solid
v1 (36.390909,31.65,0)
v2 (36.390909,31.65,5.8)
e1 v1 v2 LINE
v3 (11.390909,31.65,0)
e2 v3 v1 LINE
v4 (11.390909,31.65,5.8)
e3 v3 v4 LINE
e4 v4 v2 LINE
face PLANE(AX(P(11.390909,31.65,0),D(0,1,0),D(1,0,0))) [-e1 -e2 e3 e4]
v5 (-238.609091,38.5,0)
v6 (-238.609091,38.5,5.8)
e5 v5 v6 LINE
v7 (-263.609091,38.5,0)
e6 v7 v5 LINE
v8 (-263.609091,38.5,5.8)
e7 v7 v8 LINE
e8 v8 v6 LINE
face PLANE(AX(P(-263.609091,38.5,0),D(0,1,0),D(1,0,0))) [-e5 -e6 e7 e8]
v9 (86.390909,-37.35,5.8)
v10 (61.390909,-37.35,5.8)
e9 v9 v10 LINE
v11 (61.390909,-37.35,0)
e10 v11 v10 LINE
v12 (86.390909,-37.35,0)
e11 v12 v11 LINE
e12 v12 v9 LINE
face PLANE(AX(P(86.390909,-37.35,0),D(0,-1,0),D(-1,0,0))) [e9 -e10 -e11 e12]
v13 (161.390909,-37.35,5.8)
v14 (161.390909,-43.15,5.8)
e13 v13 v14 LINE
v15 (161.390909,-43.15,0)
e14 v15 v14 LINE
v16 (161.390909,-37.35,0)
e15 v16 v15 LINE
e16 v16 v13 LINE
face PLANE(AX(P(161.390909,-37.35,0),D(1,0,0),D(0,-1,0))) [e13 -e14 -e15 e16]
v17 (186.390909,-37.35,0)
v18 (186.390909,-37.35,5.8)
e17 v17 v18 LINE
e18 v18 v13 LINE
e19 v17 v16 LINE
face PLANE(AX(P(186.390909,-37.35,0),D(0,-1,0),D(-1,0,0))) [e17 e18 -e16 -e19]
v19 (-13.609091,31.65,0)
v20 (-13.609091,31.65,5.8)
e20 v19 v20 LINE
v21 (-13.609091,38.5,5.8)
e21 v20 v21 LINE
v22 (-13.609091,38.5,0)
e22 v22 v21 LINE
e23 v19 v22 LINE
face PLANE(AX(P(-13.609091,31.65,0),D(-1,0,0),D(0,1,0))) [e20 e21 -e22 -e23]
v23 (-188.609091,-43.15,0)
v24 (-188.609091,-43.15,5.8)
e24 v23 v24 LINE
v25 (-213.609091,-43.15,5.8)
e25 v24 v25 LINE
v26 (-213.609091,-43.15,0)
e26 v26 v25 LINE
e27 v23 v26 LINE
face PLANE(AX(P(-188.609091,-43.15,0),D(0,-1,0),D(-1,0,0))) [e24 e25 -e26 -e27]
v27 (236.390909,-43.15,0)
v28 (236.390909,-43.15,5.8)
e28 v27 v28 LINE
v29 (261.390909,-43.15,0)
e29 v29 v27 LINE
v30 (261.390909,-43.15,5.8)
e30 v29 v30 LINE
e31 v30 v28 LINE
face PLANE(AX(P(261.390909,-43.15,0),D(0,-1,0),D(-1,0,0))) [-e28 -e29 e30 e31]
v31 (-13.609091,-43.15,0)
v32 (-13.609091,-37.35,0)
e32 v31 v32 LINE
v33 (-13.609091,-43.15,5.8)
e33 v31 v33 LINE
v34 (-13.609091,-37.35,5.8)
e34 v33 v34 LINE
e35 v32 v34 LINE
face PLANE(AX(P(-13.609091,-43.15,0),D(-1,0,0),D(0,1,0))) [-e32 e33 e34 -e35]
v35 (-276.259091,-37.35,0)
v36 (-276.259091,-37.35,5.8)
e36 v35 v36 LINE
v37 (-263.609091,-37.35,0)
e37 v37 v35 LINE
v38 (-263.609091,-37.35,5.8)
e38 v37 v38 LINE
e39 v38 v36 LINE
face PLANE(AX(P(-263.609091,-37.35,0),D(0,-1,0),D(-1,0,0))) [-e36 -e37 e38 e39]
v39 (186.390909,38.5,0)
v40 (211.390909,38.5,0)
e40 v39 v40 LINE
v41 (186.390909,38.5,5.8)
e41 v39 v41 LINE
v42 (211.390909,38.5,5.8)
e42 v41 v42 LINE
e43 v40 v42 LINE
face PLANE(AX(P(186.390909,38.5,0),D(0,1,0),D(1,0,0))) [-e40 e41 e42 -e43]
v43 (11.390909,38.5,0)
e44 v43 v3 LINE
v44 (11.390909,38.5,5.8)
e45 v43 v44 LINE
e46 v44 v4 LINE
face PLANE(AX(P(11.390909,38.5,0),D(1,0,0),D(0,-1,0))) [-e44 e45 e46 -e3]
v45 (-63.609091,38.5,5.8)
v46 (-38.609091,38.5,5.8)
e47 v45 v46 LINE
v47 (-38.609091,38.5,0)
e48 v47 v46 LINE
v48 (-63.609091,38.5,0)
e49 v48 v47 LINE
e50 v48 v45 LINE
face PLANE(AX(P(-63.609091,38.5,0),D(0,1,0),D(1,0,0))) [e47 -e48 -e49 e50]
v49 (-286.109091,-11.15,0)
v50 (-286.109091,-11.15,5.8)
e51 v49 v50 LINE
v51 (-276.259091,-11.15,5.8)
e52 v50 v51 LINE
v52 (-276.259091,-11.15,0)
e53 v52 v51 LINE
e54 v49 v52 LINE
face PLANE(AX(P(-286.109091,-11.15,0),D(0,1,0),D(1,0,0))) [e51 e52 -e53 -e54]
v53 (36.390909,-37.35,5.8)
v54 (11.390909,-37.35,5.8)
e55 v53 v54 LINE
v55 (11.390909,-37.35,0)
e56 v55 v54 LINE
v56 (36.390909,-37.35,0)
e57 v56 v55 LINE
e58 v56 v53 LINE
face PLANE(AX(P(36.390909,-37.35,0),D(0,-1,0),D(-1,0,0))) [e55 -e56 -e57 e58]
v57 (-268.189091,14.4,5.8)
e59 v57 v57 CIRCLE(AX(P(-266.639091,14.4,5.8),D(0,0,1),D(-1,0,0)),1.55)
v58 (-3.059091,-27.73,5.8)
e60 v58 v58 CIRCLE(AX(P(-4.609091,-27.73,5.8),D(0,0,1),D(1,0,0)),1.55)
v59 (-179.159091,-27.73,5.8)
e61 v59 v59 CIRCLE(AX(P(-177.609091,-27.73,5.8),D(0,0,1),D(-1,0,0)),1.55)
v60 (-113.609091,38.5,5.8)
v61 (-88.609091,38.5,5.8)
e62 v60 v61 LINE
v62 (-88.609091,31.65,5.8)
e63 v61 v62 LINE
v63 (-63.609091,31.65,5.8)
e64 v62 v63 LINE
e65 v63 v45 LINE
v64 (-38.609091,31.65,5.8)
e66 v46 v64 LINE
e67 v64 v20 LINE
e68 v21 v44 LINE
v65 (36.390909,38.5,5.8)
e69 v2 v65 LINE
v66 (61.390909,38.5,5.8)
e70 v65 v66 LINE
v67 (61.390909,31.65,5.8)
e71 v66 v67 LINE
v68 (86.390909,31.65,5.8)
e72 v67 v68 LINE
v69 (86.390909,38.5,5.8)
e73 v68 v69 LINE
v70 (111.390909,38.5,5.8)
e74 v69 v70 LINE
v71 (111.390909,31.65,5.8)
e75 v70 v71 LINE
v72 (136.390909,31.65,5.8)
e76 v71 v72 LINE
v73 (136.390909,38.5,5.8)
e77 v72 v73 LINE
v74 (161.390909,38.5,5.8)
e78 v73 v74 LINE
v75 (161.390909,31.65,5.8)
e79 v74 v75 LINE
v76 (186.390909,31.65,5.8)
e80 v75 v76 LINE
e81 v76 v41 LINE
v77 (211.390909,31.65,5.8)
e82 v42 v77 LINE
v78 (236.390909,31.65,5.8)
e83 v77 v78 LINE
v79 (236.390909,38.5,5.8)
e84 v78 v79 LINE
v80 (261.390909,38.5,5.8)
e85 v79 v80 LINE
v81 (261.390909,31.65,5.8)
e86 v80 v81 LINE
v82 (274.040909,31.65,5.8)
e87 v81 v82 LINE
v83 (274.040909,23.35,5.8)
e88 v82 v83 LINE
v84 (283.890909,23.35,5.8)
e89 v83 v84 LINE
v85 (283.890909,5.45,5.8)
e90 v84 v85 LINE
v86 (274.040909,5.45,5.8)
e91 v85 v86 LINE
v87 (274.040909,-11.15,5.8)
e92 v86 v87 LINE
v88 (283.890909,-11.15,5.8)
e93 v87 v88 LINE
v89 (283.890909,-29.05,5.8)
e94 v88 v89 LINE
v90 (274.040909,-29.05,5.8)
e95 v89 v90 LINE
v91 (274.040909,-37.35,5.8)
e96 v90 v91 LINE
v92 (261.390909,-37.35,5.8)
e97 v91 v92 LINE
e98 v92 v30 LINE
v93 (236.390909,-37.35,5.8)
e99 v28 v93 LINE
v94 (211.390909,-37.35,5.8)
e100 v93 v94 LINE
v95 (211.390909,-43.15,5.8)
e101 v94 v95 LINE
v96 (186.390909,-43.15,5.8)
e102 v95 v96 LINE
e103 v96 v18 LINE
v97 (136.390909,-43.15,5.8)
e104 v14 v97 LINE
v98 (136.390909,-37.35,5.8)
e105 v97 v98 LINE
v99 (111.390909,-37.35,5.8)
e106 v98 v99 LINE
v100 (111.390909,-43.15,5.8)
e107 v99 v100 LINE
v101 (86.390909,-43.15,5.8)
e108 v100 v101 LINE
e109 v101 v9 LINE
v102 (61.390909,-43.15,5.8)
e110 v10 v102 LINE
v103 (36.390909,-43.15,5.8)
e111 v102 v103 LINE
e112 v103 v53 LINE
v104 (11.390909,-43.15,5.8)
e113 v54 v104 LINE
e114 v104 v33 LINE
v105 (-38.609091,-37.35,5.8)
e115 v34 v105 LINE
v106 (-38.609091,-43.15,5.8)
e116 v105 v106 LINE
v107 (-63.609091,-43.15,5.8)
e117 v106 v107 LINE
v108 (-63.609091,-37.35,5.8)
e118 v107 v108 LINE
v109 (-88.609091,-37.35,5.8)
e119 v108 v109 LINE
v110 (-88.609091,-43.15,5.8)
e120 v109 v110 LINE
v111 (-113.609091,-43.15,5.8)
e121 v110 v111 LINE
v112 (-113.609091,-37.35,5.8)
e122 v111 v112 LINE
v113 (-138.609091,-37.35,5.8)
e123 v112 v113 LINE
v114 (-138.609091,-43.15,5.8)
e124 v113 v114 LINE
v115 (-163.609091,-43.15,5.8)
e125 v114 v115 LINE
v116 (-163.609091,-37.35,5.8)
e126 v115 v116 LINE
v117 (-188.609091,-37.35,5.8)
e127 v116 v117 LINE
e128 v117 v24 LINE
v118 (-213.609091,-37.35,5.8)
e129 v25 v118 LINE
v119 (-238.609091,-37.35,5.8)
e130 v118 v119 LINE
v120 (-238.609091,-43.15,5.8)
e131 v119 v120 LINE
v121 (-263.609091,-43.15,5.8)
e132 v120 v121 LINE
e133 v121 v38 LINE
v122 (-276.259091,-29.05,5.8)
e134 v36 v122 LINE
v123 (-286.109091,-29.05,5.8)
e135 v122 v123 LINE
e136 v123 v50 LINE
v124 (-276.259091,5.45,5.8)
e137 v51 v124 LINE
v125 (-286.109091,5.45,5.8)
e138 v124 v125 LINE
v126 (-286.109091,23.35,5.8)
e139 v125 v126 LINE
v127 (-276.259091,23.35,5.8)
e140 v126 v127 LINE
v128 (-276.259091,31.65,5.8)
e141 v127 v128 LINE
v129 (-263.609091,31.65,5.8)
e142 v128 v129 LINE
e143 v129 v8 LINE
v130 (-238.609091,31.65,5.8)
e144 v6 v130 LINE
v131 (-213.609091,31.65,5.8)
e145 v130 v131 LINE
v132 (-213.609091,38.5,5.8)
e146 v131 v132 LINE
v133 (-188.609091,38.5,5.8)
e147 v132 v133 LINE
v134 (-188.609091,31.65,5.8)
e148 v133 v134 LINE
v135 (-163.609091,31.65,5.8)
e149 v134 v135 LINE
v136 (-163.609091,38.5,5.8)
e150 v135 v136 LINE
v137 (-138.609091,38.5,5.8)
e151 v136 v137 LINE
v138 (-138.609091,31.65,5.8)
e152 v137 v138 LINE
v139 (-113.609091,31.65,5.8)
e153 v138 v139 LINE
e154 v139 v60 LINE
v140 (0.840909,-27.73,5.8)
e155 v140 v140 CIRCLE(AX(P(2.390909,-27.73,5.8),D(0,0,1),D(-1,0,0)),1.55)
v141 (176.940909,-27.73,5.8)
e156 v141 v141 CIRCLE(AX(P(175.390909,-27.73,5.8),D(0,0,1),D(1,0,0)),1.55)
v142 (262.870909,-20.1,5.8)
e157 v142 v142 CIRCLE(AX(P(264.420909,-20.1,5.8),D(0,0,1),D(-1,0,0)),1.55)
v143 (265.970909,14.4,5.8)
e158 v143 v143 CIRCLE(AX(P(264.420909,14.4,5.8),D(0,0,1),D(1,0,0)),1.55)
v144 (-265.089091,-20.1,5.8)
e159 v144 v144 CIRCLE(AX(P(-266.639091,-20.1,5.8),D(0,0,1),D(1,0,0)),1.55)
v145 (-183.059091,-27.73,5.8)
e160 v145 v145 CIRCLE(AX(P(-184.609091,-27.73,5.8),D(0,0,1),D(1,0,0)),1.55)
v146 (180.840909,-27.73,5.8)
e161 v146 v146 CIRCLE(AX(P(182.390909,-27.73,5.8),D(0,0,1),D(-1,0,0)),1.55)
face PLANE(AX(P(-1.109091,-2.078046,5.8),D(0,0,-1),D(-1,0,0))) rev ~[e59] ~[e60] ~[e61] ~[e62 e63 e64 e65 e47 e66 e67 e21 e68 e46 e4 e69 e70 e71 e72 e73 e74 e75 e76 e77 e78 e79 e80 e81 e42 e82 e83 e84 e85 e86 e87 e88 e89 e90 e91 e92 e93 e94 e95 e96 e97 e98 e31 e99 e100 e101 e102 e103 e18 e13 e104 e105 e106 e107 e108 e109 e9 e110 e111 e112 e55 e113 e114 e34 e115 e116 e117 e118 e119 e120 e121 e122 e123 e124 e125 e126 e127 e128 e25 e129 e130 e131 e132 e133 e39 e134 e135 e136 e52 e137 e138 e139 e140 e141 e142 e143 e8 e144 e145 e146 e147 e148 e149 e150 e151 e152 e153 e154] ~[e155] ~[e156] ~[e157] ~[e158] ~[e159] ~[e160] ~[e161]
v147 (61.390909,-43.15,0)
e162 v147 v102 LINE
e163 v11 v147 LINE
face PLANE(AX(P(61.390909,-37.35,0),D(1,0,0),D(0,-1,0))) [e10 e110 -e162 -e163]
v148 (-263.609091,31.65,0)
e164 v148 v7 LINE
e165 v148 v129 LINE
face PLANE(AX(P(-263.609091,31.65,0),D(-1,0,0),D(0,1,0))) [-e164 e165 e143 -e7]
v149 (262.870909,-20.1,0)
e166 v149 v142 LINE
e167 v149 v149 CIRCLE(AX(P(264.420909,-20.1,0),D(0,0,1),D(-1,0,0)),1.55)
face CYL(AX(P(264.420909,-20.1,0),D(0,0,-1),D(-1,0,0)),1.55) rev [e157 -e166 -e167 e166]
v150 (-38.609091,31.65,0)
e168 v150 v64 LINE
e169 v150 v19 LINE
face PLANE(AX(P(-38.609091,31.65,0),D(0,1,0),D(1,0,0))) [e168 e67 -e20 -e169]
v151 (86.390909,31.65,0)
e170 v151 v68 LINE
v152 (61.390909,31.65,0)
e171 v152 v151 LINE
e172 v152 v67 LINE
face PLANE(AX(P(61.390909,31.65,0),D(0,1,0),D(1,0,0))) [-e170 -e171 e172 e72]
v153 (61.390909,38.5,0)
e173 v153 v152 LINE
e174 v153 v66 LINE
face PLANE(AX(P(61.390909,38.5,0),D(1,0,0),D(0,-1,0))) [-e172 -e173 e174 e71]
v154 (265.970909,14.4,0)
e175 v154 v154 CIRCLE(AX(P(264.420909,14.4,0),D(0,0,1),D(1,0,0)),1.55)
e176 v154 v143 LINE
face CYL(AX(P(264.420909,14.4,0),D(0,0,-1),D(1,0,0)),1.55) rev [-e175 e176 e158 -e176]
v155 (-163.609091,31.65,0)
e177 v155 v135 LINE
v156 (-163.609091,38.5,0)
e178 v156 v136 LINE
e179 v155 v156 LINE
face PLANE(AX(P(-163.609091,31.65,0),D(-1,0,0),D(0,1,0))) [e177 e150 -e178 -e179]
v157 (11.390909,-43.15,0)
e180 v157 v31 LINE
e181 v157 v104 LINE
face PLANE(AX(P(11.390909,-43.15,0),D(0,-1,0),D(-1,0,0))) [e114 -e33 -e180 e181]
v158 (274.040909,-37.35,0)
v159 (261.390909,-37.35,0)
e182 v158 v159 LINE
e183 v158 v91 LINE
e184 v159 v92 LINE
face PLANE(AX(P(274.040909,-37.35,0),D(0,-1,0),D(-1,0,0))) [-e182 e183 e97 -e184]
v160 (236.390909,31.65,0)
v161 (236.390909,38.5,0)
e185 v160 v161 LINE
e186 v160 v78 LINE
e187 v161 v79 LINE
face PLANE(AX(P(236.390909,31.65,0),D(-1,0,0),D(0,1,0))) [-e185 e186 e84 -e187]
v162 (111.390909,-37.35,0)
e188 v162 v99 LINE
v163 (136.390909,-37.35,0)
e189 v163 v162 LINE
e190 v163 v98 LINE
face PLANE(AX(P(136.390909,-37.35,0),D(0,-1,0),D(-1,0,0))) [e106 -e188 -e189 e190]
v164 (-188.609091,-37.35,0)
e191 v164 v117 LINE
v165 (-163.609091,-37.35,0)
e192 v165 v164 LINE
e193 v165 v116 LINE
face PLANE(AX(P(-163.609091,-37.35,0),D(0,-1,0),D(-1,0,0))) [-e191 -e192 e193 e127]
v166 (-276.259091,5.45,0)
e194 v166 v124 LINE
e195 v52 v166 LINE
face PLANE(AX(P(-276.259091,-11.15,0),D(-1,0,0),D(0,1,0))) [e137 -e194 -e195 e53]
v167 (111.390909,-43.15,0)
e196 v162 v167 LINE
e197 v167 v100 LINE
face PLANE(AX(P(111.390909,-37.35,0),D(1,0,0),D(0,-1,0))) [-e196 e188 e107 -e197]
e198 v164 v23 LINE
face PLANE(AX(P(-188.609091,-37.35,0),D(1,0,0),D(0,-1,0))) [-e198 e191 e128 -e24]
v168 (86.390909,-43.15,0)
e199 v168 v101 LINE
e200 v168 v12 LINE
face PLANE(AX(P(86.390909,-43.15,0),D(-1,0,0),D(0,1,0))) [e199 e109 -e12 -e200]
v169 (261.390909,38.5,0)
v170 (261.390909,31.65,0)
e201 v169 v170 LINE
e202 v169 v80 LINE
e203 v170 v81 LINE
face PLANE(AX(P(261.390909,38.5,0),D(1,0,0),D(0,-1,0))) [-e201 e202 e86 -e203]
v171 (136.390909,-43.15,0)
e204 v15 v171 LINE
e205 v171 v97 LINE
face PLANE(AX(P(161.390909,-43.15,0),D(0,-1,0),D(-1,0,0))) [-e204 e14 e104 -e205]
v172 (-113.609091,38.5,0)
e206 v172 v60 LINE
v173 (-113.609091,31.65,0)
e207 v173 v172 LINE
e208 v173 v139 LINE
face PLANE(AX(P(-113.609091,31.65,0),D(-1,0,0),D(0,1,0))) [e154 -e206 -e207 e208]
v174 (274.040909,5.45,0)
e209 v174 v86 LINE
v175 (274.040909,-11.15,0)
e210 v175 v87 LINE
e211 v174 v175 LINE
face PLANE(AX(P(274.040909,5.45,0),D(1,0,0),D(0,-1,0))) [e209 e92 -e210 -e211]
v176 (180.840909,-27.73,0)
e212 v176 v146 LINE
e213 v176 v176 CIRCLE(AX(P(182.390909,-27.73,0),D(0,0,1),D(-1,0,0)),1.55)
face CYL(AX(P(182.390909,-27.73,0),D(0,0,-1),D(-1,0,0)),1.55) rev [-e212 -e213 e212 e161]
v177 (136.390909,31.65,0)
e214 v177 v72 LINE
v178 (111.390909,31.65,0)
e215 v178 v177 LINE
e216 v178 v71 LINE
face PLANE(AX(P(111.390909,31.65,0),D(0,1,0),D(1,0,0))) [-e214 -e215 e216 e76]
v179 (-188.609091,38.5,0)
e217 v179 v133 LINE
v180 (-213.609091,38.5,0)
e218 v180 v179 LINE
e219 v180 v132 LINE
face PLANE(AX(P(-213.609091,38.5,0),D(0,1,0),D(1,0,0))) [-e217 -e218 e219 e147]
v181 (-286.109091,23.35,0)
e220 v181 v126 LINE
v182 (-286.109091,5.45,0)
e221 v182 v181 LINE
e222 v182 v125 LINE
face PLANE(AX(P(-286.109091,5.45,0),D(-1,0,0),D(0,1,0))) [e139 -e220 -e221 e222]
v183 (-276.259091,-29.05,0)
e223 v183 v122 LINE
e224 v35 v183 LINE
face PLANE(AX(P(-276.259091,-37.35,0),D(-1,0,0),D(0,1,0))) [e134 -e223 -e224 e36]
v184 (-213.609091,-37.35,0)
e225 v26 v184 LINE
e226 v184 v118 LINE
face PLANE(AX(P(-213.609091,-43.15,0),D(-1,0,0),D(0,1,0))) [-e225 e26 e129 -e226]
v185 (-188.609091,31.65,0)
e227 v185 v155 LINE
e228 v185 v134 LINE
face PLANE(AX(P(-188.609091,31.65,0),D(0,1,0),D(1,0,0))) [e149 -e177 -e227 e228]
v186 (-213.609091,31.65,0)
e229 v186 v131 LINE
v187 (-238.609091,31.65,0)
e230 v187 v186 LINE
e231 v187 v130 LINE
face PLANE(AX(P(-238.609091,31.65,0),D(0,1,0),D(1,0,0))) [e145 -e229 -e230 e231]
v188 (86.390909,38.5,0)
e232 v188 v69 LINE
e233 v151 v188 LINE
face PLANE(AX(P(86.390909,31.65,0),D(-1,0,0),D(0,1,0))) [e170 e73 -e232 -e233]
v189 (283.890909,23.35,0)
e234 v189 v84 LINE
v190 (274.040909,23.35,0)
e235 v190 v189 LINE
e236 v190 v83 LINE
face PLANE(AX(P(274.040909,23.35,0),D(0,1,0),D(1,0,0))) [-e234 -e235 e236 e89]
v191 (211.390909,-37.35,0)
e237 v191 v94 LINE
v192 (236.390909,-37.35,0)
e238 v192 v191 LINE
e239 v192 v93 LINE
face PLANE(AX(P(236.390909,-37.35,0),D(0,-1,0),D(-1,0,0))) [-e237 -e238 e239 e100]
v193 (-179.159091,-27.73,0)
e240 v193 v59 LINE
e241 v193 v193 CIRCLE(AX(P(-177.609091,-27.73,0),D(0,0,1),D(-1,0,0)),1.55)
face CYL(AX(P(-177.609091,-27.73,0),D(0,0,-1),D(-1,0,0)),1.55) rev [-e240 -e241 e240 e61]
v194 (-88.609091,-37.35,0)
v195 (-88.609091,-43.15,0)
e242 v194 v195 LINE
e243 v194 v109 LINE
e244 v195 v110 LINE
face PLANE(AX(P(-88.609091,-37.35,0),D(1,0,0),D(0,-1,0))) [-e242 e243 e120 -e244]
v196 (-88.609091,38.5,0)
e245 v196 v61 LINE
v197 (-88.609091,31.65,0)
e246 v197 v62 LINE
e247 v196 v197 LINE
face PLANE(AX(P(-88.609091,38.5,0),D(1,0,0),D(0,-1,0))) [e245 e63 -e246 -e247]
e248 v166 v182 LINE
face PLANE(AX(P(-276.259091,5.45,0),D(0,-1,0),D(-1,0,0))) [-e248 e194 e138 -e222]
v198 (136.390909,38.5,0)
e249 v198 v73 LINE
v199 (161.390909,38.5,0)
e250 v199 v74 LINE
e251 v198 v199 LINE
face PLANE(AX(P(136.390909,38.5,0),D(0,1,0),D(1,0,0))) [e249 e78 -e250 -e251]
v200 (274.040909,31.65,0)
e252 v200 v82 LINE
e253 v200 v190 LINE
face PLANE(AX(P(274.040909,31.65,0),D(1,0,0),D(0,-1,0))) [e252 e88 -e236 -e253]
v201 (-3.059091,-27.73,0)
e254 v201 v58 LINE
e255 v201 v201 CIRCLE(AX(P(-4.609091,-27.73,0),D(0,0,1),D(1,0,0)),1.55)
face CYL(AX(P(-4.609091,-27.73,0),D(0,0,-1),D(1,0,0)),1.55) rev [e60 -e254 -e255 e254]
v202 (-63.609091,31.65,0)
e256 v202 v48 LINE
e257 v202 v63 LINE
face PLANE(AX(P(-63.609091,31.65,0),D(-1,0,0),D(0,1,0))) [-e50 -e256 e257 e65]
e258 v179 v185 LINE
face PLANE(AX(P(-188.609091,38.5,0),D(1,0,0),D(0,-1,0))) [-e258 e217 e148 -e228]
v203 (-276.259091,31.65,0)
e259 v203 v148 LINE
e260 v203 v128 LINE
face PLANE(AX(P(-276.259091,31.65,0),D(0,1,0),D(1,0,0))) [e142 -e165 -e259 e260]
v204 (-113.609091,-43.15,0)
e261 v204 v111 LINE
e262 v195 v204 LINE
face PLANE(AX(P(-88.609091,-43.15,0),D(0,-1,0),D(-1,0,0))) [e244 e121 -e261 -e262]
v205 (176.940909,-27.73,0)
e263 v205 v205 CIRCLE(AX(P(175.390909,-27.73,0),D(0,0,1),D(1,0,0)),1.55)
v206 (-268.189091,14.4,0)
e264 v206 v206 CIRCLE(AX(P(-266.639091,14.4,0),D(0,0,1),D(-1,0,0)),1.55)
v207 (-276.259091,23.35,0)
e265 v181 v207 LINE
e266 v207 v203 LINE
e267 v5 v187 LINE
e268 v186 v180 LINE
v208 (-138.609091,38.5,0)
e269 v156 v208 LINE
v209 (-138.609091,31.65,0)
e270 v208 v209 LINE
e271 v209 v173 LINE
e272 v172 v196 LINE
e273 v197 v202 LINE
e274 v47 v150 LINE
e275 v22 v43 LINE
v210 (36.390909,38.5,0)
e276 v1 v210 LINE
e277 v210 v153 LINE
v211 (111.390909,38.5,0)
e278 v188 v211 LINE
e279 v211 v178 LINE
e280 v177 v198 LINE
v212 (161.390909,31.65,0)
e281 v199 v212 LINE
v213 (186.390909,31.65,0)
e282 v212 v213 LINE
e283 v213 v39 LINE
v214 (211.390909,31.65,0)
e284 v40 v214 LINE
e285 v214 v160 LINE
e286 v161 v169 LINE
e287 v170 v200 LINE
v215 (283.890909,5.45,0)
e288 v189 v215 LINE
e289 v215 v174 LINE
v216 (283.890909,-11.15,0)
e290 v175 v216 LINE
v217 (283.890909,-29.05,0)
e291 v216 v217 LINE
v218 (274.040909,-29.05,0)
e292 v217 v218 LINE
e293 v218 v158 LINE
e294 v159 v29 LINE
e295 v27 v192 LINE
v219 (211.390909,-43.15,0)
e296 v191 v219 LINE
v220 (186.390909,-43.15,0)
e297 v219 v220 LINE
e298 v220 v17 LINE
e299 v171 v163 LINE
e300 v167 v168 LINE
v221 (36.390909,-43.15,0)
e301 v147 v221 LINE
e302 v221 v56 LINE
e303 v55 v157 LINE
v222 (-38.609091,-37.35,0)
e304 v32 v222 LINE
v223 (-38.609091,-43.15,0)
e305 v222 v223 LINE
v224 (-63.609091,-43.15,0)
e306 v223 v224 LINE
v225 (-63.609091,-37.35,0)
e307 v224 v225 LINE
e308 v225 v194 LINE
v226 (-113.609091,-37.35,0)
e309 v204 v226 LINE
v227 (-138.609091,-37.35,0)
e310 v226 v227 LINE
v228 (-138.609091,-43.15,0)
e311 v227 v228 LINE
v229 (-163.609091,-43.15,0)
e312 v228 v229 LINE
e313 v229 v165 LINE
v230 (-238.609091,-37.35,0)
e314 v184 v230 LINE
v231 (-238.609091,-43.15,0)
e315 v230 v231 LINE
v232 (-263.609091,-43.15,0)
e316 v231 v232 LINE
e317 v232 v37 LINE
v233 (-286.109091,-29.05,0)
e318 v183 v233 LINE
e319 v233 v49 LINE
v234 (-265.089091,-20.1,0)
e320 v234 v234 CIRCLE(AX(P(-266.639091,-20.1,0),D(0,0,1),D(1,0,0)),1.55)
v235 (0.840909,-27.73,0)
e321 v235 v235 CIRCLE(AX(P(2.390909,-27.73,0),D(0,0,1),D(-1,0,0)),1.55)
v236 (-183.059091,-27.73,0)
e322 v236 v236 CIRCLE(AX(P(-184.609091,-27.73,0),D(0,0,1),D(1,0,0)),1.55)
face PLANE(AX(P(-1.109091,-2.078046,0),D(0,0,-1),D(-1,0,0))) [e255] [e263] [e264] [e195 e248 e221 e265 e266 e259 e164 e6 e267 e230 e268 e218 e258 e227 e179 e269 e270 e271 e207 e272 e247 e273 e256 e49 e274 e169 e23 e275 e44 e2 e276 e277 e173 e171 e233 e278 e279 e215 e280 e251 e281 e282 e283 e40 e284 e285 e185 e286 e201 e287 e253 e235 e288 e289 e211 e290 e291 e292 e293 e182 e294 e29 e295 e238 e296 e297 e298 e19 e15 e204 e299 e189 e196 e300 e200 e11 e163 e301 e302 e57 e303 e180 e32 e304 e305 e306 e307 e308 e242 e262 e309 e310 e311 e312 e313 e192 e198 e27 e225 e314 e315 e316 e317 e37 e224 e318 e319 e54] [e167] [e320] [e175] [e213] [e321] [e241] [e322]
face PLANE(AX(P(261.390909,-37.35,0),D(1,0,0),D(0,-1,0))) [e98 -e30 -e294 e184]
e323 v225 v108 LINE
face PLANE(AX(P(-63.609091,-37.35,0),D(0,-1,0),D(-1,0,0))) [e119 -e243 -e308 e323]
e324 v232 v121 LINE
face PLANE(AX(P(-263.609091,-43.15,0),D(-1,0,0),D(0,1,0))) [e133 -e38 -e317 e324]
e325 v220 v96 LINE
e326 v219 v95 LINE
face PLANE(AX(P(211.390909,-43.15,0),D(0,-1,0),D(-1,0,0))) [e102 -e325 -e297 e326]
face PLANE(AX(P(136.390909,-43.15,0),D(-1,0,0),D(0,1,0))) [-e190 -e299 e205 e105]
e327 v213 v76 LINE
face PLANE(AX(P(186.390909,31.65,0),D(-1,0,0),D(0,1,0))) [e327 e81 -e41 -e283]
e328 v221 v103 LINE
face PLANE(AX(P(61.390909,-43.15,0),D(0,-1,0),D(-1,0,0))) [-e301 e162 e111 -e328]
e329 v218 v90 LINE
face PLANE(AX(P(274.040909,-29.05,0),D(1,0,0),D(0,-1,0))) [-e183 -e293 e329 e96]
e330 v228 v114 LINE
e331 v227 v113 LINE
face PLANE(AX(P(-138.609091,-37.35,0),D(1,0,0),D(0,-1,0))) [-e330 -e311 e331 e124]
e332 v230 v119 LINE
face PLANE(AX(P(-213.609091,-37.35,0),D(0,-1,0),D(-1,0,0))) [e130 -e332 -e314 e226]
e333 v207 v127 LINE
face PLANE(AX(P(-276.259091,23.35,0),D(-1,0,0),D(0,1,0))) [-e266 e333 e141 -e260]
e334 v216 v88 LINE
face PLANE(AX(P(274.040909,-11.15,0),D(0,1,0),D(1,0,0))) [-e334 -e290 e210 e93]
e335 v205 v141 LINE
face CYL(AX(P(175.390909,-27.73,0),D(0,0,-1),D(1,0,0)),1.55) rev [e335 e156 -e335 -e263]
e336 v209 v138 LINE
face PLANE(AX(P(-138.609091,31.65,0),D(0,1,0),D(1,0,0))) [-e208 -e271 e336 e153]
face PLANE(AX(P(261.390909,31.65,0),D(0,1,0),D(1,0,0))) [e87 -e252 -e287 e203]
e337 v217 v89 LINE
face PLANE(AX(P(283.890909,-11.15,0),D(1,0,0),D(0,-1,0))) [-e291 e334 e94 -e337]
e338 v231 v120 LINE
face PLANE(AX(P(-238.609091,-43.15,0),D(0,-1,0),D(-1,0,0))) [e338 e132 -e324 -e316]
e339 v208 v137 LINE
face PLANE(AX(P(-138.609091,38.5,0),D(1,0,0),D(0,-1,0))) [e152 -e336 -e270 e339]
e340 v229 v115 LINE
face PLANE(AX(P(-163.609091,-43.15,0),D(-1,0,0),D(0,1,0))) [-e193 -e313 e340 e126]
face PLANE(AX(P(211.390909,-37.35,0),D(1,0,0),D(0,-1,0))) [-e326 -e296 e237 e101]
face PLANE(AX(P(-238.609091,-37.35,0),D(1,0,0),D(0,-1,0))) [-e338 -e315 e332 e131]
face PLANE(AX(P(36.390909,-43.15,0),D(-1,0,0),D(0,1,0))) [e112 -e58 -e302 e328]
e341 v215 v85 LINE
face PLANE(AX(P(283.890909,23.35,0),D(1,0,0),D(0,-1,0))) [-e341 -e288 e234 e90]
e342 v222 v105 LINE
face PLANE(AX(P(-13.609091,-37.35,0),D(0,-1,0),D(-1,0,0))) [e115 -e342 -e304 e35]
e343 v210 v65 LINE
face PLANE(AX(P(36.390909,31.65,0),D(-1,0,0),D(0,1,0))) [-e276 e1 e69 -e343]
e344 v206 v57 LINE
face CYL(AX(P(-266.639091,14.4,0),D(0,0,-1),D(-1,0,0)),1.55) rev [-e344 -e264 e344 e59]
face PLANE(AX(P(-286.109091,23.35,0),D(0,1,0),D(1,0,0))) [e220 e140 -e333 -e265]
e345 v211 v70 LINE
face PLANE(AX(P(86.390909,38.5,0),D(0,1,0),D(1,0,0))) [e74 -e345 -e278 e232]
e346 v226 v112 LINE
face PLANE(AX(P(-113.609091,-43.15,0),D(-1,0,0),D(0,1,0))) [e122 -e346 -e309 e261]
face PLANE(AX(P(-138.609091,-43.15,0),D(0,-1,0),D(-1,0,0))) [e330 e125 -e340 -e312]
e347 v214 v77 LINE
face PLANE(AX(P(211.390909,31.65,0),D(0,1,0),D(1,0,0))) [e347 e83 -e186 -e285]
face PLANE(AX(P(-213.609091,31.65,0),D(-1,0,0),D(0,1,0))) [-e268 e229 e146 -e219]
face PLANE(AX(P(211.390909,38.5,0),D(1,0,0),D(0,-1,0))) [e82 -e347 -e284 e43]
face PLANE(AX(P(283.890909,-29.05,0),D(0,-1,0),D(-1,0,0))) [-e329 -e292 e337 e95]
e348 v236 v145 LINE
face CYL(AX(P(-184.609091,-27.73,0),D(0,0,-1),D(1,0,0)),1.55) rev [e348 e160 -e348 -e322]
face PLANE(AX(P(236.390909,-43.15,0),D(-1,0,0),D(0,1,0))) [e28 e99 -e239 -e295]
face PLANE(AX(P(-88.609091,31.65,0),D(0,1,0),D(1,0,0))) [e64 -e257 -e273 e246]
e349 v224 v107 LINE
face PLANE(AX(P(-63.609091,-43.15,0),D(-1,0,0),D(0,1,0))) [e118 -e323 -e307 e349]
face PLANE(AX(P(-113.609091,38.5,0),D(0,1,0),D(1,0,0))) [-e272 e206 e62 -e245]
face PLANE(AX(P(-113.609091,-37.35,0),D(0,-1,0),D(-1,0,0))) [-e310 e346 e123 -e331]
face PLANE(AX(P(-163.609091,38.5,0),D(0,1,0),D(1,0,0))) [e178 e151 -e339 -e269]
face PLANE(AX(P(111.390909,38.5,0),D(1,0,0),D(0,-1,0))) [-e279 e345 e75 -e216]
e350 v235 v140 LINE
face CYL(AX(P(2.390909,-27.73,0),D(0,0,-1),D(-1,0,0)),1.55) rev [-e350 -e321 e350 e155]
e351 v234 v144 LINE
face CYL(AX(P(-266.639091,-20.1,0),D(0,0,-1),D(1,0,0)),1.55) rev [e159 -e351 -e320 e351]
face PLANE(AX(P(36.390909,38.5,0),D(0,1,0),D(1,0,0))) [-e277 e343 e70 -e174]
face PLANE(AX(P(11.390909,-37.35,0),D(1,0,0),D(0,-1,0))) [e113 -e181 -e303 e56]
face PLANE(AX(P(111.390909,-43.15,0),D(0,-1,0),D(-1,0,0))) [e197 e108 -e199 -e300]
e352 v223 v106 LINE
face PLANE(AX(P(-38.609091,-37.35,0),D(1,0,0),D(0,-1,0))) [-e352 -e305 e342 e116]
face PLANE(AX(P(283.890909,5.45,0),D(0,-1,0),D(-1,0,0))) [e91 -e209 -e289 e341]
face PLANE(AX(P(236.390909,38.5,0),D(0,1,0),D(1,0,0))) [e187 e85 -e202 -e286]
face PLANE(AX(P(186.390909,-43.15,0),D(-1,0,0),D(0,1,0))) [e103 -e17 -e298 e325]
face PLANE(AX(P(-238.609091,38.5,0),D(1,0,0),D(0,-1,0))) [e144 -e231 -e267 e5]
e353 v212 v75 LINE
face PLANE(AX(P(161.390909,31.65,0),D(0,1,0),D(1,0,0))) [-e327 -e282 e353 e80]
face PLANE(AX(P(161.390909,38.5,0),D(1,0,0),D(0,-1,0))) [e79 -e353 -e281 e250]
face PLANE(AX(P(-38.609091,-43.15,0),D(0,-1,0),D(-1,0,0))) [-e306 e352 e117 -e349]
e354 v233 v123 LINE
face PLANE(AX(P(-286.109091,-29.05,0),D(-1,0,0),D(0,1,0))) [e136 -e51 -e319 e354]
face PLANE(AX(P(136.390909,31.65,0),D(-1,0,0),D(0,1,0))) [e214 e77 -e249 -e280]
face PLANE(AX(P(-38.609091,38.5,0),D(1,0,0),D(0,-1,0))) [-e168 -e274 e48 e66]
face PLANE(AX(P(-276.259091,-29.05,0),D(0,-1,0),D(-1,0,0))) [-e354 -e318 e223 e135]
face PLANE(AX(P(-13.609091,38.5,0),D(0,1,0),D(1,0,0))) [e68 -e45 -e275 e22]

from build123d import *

# Parameters (mm, degrees)
SKETCH1_R           = 1.55
BOSS_EXTRUDE1_DEPTH = 5.8


with BuildPart() as part:
    # Sketch1 → Boss-Extrude1 (new body)
    with BuildSketch(Plane.XY):
        Polygon((-213.609090909, 31.65), (-213.609090909, 38.5), (-188.609090909, 38.5), (-188.609090909, 31.65), (-163.609090909, 31.65), (-163.609090909, 38.5), (-138.609090909, 38.5), (-138.609090909, 31.65), (-113.609090909, 31.65), (-113.609090909, 38.5), (-88.609090909, 38.5), (-88.609090909, 31.65), (-63.609090909, 31.65), (-63.609090909, 38.5), (-38.609090909, 38.5), (-38.609090909, 31.65), (-13.609090909, 31.65), (-13.609090909, 38.5), (11.390909091, 38.5), (11.390909091, 31.65), (36.390909091, 31.65), (36.390909091, 38.5), (61.390909091, 38.5), (61.390909091, 31.65), (86.390909091, 31.65), (86.390909091, 38.5), (111.390909091, 38.5), (111.390909091, 31.65), (136.390909091, 31.65), (136.390909091, 38.5), (161.390909091, 38.5), (161.390909091, 31.65), (186.390909091, 31.65), (186.390909091, 38.5), (211.390909091, 38.5), (211.390909091, 31.65), (236.390909091, 31.65), (236.390909091, 38.5), (261.390909091, 38.5), (261.390909091, 31.65), (274.040909091, 31.65), (274.040909091, 23.35), (283.890909091, 23.35), (283.890909091, 5.45), (274.040909091, 5.45), (274.040909091, -11.15), (283.890909091, -11.15), (283.890909091, -29.05), (274.040909091, -29.05), (274.040909091, -37.35), (261.390909091, -37.35), (261.390909091, -43.15), (236.390909091, -43.15), (236.390909091, -37.35), (211.390909091, -37.35), (211.390909091, -43.15), (186.390909091, -43.15), (186.390909091, -37.35), (161.390909091, -37.35), (161.390909091, -43.15), (136.390909091, -43.15), (136.390909091, -37.35), (111.390909091, -37.35), (111.390909091, -43.15), (86.390909091, -43.15), (86.390909091, -37.35), (61.390909091, -37.35), (61.390909091, -43.15), (36.390909091, -43.15), (36.390909091, -37.35), (11.390909091, -37.35), (11.390909091, -43.15), (-13.609090909, -43.15), (-13.609090909, -37.35), (-38.609090909, -37.35), (-38.609090909, -43.15), (-63.609090909, -43.15), (-63.609090909, -37.35), (-88.609090909, -37.35), (-88.609090909, -43.15), (-113.609090909, -43.15), (-113.609090909, -37.35), (-138.609090909, -37.35), (-138.609090909, -43.15), (-163.609090909, -43.15), (-163.609090909, -37.35), (-188.609090909, -37.35), (-188.609090909, -43.15), (-213.609090909, -43.15), (-213.609090909, -37.35), (-238.609090909, -37.35), (-238.609090909, -43.15), (-263.609090909, -43.15), (-263.609090909, -37.35), (-276.259090909, -37.35), (-276.259090909, -29.05), (-286.109090909, -29.05), (-286.109090909, -11.15), (-276.259090909, -11.15), (-276.259090909, 5.45), (-286.109090909, 5.45), (-286.109090909, 23.35), (-276.259090909, 23.35), (-276.259090909, 31.65), (-263.609090909, 31.65), (-263.609090909, 38.5), (-238.609090909, 38.5), (-238.609090909, 31.65), align=None)
        with Locations((-266.639090909, -20.1)):
            Circle(SKETCH1_R, mode=Mode.SUBTRACT)
        with Locations((-266.639090909, 14.4)):
            Circle(SKETCH1_R, mode=Mode.SUBTRACT)
        with Locations((264.420909091, 14.4)):
            Circle(SKETCH1_R, mode=Mode.SUBTRACT)
        with Locations((264.420909091, -20.1)):
            Circle(SKETCH1_R, mode=Mode.SUBTRACT)
        with Locations((-4.609090909, -27.73)):
            Circle(SKETCH1_R, mode=Mode.SUBTRACT)
        with Locations((2.390909091, -27.73)):
            Circle(SKETCH1_R, mode=Mode.SUBTRACT)
        with Locations((175.390909091, -27.73)):
            Circle(SKETCH1_R, mode=Mode.SUBTRACT)
        with Locations((182.390909091, -27.73)):
            Circle(SKETCH1_R, mode=Mode.SUBTRACT)
        with Locations((-184.609090909, -27.73)):
            Circle(SKETCH1_R, mode=Mode.SUBTRACT)
        with Locations((-177.609090909, -27.73)):
            Circle(SKETCH1_R, mode=Mode.SUBTRACT)
    extrude(amount=BOSS_EXTRUDE1_DEPTH)


solid = part.part
